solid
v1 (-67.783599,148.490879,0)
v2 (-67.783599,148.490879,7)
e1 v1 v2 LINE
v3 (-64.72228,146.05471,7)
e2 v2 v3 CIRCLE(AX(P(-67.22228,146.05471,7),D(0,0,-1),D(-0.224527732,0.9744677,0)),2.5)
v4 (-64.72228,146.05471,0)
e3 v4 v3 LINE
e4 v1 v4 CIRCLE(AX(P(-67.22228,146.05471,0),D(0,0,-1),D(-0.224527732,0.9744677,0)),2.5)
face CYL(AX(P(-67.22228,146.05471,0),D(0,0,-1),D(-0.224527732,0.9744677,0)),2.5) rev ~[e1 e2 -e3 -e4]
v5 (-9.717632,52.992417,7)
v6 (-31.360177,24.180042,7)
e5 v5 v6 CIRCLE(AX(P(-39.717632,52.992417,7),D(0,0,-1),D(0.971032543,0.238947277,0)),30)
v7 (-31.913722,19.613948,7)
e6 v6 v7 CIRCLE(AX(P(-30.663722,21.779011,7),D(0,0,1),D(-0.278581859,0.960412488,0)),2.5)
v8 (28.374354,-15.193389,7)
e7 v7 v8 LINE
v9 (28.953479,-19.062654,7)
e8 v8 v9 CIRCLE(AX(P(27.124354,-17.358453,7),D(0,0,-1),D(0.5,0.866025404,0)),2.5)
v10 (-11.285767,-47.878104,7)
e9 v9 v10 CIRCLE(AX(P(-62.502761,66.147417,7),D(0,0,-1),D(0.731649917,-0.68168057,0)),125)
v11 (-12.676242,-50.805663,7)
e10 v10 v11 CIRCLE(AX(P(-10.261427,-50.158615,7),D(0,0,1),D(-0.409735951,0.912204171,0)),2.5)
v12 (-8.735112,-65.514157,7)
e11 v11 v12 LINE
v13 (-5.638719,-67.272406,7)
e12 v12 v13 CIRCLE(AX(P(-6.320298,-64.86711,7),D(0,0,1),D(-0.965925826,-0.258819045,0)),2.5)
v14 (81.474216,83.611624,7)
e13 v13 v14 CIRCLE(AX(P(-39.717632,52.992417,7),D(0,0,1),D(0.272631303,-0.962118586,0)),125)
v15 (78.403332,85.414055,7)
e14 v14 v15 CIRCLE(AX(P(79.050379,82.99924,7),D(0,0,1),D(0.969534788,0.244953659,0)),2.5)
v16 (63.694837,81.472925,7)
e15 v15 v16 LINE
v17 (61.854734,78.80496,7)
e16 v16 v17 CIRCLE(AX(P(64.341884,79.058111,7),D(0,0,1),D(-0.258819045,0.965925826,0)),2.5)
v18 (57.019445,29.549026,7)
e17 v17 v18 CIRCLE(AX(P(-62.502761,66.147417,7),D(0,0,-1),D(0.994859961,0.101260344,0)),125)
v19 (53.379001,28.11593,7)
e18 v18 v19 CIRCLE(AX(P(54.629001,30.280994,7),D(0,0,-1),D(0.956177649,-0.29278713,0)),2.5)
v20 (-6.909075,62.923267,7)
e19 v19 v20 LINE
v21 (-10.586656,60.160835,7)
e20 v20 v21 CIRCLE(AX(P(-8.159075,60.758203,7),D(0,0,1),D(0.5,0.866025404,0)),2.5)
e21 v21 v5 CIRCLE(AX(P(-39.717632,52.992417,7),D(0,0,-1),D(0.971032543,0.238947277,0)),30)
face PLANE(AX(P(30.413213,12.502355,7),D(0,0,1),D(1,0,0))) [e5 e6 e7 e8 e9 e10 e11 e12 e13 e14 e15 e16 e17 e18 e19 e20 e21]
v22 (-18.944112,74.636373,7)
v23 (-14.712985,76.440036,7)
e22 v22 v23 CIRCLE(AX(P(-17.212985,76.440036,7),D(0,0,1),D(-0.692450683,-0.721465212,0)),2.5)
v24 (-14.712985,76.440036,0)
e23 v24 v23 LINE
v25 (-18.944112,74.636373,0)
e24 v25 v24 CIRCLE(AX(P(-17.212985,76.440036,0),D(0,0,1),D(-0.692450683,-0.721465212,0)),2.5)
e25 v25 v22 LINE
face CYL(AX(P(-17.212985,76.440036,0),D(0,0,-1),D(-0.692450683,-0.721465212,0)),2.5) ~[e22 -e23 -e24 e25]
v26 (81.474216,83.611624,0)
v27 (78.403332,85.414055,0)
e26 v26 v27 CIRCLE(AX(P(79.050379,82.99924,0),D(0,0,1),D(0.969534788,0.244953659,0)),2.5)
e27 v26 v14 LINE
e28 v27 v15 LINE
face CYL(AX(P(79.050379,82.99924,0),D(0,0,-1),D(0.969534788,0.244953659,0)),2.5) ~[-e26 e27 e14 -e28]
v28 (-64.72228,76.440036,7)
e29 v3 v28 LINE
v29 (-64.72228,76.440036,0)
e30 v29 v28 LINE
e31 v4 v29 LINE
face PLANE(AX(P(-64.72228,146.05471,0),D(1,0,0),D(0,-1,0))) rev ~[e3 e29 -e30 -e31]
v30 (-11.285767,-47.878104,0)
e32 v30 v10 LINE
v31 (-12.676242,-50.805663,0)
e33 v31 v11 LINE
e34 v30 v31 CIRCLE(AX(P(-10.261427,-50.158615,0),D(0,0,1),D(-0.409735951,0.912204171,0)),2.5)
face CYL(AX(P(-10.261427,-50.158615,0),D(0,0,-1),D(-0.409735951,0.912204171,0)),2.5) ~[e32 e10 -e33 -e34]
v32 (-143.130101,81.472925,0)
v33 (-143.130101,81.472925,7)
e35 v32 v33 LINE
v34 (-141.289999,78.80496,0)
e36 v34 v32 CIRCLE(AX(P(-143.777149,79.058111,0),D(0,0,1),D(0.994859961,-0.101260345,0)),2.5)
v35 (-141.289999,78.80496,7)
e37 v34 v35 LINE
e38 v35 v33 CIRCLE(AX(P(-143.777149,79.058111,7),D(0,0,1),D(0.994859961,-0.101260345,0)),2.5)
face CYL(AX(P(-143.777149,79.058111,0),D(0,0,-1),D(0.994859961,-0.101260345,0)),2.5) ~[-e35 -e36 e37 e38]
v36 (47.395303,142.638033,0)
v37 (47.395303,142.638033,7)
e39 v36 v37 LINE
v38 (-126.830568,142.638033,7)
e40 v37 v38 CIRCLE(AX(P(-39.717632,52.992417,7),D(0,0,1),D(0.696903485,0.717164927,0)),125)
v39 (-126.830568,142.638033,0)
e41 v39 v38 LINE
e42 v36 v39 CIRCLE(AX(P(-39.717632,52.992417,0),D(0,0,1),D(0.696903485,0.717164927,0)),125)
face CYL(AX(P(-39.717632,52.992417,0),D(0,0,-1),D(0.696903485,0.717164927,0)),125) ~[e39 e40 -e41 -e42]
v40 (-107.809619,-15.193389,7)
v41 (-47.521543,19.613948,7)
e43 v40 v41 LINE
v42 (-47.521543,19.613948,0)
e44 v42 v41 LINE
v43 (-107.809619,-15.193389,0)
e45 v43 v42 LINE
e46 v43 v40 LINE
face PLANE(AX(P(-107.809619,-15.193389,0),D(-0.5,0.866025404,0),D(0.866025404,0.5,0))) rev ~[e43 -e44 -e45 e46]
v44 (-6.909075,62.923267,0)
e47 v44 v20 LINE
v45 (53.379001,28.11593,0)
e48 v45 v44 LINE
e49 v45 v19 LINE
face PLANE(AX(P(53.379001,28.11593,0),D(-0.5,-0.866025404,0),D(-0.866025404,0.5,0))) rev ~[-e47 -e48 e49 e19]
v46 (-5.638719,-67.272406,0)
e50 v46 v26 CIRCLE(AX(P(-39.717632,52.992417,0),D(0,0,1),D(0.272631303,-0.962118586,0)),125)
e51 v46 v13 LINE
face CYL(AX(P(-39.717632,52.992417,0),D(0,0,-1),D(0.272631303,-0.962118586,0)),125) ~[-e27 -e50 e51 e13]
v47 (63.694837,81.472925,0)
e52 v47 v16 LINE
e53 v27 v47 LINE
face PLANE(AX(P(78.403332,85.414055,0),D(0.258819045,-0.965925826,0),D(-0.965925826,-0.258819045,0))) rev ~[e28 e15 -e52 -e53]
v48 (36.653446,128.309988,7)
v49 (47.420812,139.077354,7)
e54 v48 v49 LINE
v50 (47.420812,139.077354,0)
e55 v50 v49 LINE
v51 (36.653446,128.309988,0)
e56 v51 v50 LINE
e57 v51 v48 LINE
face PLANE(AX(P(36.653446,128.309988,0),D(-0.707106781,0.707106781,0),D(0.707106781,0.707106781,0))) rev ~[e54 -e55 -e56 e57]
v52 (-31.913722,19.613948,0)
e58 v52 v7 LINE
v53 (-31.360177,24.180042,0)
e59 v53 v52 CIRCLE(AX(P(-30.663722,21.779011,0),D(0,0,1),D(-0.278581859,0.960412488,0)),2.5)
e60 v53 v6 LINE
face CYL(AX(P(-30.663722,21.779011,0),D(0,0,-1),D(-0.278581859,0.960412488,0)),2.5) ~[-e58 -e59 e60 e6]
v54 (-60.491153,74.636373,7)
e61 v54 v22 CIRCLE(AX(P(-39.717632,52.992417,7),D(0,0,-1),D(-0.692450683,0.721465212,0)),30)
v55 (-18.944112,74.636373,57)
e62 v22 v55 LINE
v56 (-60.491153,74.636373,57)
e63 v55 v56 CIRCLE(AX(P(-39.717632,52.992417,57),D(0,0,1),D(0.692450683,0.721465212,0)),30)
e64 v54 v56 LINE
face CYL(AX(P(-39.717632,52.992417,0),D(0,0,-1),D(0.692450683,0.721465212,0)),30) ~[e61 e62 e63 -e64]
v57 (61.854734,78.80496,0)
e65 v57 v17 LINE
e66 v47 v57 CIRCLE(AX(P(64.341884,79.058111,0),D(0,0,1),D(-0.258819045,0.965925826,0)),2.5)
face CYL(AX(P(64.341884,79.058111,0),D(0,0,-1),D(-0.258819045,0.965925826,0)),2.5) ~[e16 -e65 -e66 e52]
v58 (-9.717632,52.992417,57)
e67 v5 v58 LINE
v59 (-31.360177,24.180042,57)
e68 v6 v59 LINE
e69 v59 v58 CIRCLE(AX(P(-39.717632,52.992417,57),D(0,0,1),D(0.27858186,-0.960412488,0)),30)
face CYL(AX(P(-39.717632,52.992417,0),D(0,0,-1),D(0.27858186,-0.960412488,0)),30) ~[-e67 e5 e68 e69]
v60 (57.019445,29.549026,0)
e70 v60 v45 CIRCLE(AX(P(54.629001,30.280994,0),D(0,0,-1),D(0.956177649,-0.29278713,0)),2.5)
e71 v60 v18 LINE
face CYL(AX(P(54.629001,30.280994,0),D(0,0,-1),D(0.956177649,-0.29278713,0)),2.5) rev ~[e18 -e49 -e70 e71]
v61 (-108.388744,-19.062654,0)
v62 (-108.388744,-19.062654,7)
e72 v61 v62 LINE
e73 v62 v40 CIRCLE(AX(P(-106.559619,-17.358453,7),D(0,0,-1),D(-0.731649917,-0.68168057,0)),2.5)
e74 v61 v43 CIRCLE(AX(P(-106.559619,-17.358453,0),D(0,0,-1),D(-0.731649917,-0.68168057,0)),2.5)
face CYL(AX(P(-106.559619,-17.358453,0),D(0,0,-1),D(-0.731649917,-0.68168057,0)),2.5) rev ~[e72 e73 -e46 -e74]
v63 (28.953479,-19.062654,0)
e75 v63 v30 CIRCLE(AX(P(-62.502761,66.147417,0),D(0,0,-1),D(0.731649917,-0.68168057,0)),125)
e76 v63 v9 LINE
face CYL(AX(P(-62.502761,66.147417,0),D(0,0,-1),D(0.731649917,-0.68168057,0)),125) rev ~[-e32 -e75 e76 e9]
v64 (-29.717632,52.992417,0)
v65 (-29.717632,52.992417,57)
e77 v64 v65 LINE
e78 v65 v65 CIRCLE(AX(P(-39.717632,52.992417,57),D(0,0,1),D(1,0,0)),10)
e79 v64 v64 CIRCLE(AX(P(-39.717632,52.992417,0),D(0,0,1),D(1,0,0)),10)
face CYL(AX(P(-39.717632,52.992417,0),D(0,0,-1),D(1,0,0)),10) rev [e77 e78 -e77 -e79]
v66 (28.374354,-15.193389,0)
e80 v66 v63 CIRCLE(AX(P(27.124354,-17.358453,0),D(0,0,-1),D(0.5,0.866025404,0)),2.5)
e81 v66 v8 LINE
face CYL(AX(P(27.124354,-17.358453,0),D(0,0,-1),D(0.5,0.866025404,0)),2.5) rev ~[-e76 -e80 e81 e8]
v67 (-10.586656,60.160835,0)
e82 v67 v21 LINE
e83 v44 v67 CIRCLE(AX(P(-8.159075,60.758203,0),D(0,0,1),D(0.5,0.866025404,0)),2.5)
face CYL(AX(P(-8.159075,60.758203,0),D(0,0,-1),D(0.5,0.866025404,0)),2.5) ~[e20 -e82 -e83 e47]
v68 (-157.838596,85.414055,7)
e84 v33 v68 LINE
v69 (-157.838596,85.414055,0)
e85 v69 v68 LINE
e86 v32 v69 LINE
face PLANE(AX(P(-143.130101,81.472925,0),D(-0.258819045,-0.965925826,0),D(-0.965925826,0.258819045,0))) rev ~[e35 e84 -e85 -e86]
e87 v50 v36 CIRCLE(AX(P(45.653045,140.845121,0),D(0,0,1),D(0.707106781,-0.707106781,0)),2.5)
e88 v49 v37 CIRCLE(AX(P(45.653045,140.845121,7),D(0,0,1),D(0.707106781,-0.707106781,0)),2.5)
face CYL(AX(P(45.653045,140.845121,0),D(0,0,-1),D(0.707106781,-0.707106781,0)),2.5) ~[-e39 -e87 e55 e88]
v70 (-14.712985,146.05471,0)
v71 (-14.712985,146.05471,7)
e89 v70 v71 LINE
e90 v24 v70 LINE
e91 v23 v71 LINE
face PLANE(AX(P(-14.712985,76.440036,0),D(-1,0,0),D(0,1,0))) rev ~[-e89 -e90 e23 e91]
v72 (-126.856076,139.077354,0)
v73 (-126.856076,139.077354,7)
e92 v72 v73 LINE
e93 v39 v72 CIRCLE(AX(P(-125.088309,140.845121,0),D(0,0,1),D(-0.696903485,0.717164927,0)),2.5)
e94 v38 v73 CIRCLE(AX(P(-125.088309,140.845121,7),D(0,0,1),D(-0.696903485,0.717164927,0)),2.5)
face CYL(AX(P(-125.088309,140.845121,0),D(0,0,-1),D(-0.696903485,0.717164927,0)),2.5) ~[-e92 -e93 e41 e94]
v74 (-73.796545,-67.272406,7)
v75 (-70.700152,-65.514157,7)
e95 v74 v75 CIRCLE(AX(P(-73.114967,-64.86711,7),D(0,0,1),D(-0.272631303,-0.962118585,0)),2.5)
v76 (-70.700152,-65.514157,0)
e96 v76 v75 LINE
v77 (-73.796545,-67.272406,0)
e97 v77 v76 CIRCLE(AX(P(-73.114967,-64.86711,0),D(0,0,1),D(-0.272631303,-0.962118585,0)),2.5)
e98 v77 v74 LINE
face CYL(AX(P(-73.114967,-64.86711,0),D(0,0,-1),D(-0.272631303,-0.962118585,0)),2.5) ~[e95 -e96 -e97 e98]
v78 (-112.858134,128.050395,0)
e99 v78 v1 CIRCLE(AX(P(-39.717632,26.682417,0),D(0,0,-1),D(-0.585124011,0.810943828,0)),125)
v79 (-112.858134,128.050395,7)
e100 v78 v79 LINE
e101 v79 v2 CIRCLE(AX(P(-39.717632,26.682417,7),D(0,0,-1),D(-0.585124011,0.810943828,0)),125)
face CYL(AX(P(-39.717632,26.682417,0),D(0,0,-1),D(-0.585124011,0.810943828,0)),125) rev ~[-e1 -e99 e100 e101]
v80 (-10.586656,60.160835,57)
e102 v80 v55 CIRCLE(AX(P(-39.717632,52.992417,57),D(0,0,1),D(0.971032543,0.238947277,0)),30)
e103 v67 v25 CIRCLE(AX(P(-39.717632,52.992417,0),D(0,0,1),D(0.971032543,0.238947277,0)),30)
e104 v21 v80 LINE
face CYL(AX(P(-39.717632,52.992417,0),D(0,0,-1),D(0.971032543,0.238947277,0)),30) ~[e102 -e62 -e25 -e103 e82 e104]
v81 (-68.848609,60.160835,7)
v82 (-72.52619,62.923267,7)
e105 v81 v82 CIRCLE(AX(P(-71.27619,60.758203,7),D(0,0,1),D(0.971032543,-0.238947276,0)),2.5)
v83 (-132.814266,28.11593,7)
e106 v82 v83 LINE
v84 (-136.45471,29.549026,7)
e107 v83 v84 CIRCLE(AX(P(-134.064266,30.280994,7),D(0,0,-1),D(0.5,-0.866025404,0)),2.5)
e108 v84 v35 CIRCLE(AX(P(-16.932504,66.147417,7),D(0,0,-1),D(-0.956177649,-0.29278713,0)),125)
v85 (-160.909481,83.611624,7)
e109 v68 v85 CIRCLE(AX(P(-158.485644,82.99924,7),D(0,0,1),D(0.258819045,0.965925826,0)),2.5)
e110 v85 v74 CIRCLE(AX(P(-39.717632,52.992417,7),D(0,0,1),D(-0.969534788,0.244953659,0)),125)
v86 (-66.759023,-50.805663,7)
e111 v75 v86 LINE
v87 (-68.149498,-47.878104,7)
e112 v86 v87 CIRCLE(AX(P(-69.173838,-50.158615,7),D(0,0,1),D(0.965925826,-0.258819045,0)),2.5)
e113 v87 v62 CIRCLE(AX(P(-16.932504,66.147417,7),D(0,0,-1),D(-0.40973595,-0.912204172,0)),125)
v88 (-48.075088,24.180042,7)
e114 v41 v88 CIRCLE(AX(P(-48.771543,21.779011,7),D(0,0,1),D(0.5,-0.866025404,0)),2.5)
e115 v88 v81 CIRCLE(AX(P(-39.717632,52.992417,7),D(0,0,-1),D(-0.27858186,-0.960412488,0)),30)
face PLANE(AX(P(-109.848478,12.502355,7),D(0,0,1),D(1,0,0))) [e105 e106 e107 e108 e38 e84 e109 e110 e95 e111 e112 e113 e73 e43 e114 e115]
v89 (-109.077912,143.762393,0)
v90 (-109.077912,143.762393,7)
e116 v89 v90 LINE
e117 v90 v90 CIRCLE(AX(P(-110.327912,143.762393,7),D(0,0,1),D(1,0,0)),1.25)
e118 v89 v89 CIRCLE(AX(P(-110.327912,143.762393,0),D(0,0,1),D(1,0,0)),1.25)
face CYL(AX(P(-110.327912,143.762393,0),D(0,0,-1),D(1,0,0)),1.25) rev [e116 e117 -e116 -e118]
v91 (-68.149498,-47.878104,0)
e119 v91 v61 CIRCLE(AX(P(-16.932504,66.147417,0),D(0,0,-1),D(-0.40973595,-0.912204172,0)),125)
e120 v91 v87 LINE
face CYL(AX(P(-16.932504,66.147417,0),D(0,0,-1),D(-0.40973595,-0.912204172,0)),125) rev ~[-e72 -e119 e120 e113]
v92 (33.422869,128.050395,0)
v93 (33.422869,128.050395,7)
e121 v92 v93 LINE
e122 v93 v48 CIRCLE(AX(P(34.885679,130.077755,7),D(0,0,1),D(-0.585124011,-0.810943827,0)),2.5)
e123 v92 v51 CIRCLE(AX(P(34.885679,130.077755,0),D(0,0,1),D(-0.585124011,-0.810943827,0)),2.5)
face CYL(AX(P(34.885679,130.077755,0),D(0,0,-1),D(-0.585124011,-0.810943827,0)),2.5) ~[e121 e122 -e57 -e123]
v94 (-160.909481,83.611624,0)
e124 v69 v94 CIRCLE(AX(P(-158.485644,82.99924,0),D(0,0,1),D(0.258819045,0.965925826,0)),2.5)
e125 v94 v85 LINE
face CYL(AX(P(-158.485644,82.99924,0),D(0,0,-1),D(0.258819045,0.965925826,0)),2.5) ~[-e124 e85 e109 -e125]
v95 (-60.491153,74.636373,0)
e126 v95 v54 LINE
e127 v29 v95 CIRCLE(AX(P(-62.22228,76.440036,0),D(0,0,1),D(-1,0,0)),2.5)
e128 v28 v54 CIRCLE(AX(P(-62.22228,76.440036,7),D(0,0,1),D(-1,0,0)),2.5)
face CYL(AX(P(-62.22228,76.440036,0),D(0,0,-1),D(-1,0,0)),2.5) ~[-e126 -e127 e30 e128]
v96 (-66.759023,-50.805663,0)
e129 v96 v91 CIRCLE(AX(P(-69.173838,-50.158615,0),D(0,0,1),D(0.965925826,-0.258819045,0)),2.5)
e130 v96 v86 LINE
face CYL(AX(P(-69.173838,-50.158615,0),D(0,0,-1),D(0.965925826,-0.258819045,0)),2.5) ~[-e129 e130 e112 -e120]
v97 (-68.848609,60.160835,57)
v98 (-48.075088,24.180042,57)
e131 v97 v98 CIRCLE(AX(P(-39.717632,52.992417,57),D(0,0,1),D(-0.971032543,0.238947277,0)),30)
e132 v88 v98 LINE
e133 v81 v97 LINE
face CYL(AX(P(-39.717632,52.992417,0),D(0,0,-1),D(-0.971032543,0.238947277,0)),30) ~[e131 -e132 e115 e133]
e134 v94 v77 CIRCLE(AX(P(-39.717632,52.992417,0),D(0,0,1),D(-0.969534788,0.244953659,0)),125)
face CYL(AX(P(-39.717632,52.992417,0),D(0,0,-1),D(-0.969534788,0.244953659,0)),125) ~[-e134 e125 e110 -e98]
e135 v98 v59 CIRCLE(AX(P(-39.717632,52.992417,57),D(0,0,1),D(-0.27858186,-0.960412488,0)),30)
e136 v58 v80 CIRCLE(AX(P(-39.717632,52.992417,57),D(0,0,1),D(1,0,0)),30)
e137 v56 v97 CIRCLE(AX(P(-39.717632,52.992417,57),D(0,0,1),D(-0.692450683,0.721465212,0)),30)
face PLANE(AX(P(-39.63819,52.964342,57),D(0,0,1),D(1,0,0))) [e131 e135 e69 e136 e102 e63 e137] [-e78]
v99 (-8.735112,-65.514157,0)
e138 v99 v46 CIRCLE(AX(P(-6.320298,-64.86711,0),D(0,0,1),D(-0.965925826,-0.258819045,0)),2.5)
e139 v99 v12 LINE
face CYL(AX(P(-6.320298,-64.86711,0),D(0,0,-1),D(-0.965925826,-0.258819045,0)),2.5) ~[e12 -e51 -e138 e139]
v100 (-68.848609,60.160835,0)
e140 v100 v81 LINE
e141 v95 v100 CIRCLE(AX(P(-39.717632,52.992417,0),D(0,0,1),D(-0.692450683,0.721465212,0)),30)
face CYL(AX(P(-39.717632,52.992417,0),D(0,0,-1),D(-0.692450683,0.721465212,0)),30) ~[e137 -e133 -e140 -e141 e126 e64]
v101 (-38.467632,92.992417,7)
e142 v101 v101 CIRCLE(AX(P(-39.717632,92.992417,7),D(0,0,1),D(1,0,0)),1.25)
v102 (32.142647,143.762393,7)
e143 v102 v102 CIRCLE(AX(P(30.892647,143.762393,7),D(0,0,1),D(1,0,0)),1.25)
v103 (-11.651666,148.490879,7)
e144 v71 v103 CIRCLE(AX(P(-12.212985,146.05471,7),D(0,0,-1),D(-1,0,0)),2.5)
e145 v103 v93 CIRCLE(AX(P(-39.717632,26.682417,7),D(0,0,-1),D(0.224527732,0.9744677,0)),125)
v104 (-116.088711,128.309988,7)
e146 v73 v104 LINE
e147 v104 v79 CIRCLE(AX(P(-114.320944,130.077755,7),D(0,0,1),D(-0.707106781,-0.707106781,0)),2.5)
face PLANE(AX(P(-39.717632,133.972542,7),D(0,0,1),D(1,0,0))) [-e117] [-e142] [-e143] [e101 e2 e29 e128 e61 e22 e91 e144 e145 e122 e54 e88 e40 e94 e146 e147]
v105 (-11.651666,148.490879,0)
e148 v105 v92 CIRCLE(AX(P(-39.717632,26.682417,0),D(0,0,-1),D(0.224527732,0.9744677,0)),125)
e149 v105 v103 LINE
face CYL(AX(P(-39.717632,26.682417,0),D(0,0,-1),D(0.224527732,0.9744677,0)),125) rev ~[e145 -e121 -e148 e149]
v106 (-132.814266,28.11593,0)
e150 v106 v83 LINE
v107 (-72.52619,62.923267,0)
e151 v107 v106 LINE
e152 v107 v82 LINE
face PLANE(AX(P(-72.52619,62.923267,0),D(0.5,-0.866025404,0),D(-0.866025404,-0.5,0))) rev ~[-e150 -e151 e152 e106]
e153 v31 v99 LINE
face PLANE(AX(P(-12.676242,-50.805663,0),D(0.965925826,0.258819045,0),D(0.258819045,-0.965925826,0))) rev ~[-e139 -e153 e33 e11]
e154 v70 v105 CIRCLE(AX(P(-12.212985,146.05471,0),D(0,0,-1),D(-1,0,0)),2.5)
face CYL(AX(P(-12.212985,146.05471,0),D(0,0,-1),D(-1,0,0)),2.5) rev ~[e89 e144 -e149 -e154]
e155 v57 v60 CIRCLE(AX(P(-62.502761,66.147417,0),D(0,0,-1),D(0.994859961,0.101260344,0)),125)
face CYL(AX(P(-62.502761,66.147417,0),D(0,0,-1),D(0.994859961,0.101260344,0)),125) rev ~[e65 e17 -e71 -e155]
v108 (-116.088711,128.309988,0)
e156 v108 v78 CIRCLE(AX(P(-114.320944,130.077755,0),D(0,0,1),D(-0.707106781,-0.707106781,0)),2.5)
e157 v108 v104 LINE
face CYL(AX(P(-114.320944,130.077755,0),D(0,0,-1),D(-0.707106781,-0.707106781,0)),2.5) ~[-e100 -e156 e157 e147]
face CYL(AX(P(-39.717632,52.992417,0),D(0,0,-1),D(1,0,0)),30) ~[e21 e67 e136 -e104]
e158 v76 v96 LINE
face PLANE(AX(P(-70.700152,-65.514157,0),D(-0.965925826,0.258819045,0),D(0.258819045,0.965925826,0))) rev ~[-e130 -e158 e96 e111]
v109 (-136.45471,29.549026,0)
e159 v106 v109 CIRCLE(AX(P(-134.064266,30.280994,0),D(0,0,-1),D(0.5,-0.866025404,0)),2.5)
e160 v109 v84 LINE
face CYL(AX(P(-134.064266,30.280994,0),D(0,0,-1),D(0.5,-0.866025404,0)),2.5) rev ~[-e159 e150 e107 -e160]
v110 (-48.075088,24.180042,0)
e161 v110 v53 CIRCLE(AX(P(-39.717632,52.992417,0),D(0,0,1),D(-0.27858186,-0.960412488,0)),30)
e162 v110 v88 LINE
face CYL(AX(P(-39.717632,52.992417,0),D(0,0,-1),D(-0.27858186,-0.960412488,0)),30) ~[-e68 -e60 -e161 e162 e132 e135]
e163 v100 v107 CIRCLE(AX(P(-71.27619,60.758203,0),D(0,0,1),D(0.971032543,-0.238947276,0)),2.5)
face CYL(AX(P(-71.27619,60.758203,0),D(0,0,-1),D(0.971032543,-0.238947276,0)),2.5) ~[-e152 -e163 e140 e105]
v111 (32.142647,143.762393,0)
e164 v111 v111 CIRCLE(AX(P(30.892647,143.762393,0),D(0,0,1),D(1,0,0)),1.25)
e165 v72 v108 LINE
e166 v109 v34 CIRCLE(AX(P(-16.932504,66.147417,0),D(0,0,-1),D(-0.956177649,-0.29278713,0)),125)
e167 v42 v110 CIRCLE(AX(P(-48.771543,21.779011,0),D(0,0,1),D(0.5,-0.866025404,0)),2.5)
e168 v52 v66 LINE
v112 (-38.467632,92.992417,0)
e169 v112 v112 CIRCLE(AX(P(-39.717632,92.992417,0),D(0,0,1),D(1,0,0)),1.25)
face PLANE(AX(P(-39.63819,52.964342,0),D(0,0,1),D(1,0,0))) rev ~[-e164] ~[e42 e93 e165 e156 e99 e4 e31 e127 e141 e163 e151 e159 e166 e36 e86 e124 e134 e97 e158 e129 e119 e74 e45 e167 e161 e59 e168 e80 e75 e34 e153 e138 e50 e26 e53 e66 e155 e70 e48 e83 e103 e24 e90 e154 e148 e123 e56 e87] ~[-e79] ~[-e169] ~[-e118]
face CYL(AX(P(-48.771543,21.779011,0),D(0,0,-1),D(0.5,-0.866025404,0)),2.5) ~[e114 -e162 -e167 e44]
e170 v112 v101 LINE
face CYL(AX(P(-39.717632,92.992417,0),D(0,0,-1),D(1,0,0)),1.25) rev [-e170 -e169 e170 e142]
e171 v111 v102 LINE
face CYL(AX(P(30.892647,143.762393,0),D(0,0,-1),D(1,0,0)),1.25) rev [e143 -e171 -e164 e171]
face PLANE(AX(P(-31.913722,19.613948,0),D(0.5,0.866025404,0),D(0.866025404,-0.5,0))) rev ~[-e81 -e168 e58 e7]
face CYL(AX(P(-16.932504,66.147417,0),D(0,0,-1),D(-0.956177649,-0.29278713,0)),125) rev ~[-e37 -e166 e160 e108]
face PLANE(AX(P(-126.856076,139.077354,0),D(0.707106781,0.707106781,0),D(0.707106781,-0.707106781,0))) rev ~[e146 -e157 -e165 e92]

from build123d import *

# Parameters (mm, degrees)
SKETCH1_R             = 1.25
BOSS_EXTRUDE1_DEPTH   = 7
BOSS_EXTRUDE2_DEPTH   = 7
BOSS_EXTRUDE2_2_DEPTH = 7
SKETCH1_7_R           = 10
BOSS_EXTRUDE3_DEPTH   = 57


with BuildPart() as part:
    # Sketch1 → Boss-Extrude1 (new body)
    with BuildSketch(Plane.XY):
        with BuildLine():
            ThreePointArc((-60.491152811, 74.636373352), (-39.71763232, 82.992417004), (-18.944111829, 74.636373352))
            ThreePointArc((-18.944111829, 74.636373352), (-16.23263232, 74.140273701), (-14.712985122, 76.440036381))
            Line((-14.712985122, 76.440036381), (-14.712985122, 146.054710198))
            ThreePointArc((-14.712985122, 146.054710198), (-13.769696668, 148.010892491), (-11.651665791, 148.490879447))
            ThreePointArc((-11.651665791, 148.490879447), (11.907367753, 140.523795103), (33.422869053, 128.050395473))
            ThreePointArc((33.422869053, 128.050395473), (35.085920842, 127.585787298), (36.653446033, 128.309988089))
            Line((36.653446033, 128.309988089), (47.420811552, 139.077353608))
            ThreePointArc((47.420811552, 139.077353608), (48.15298045, 140.863029774), (47.395303312, 142.638032879))
            ThreePointArc((47.395303312, 142.638032879), (-39.71763232, 177.992417004), (-126.830567952, 142.638032879))
            ThreePointArc((-126.830567952, 142.638032879), (-127.588245091, 140.863029774), (-126.856076193, 139.077353608))
            Line((-126.856076193, 139.077353608), (-116.088710674, 128.309988089))
            ThreePointArc((-116.088710674, 128.309988089), (-114.521185483, 127.585787298), (-112.858133693, 128.050395473))
            ThreePointArc((-112.858133693, 128.050395473), (-91.342632394, 140.523795103), (-67.783598849, 148.490879447))
            ThreePointArc((-67.783598849, 148.490879447), (-65.665567973, 148.010892491), (-64.722279519, 146.054710198))
            Line((-64.722279519, 146.054710198), (-64.722279519, 76.440036381))
            ThreePointArc((-64.722279519, 76.440036381), (-63.20263232, 74.140273701), (-60.491152811, 74.636373352))
        make_face()
        with Locations((-39.71763232, 92.992417004)):
            Circle(SKETCH1_R, mode=Mode.SUBTRACT)
        with Locations((-110.327911654, 143.762392505)):
            Circle(SKETCH1_R, mode=Mode.SUBTRACT)
        with Locations((30.892647013, 143.762392505)):
            Circle(SKETCH1_R, mode=Mode.SUBTRACT)
    extrude(amount=BOSS_EXTRUDE1_DEPTH)



with BuildPart() as body_2:
    # Sketch1<5> → Boss-Extrude2 (new body)
    with BuildSketch(Plane.XY):
        with BuildLine():
            Line((-31.91372188, 19.613947629), (28.374354121, -15.19338928))
            ThreePointArc((28.374354121, -15.19338928), (29.596813454, -16.988392191), (28.953478913, -19.062654214))
            ThreePointArc((28.953478913, -19.062654214), (10.274264705, -35.481833579), (-11.285766896, -47.878104465))
            ThreePointArc((-11.285766896, -47.878104465), (-12.519655272, -49.086045475), (-12.676241586, -50.805662507))
            Line((-12.676241586, -50.805662507), (-8.735112274, -65.514157338))
            ThreePointArc((-8.735112274, -65.514157338), (-7.5547558, -67.041072287), (-5.638719451, -67.272406189))
            ThreePointArc((-5.638719451, -67.272406189), (68.535543153, -9.507582996), (81.474216181, 83.611624322))
            ThreePointArc((81.474216181, 83.611624322), (80.31585697, 85.155293524), (78.403331598, 85.414054741))
            Line((78.403331598, 85.414054741), (63.694836768, 81.47292543))
            ThreePointArc((63.694836768, 81.47292543), (62.28389789, 80.477509189), (61.854734477, 78.804960004))
            ThreePointArc((61.854734477, 78.804960004), (61.899264778, 53.935289488), (57.019445442, 29.549025778))
            ThreePointArc((57.019445442, 29.549025778), (55.544749107, 27.954750711), (53.37900132, 28.115930093))
            Line((53.37900132, 28.115930093), (-6.909074682, 62.923267002))
            ThreePointArc((-6.909074682, 62.923267002), (-9.660551185, 62.757095263), (-10.586656039, 60.160835301))
            ThreePointArc((-10.586656039, 60.160835301), (-13.736870207, 37.992417004), (-31.360176529, 24.180042358))
            ThreePointArc((-31.360176529, 24.180042358), (-33.145551185, 22.079882047), (-31.91372188, 19.613947629))
        make_face()
    extrude(amount=BOSS_EXTRUDE2_DEPTH)


with BuildPart() as body_3:
    # Sketch1<5> → Boss-Extrude2 2 (new body)
    with BuildSketch(Plane.XY):
        with BuildLine():
            ThreePointArc((-47.52154276, 19.613947629), (-46.289713456, 22.079882047), (-48.075088111, 24.180042358))
            ThreePointArc((-48.075088111, 24.180042358), (-65.698394434, 37.992417004), (-68.848608602, 60.160835301))
            ThreePointArc((-68.848608602, 60.160835301), (-69.774713456, 62.757095263), (-72.526189959, 62.923267002))
            Line((-72.526189959, 62.923267002), (-132.81426596, 28.115930093))
            ThreePointArc((-132.81426596, 28.115930093), (-134.980013747, 27.954750711), (-136.454710083, 29.549025778))
            ThreePointArc((-136.454710083, 29.549025778), (-141.334529419, 53.935289488), (-141.289999118, 78.804960004))
            ThreePointArc((-141.289999118, 78.804960004), (-141.71916253, 80.477509189), (-143.130101408, 81.47292543))
            Line((-143.130101408, 81.47292543), (-157.838596239, 85.414054741))
            ThreePointArc((-157.838596239, 85.414054741), (-159.751121611, 85.155293524), (-160.909480822, 83.611624322))
            ThreePointArc((-160.909480822, 83.611624322), (-147.970807793, -9.507582996), (-73.79654519, -67.272406189))
            ThreePointArc((-73.79654519, -67.272406189), (-71.88050884, -67.041072287), (-70.700152367, -65.514157338))
            Line((-70.700152367, -65.514157338), (-66.759023055, -50.805662507))
            ThreePointArc((-66.759023055, -50.805662507), (-66.915609368, -49.086045475), (-68.149497745, -47.878104465))
            ThreePointArc((-68.149497745, -47.878104465), (-89.709529345, -35.481833579), (-108.388743554, -19.062654214))
            ThreePointArc((-108.388743554, -19.062654214), (-109.032078095, -16.988392191), (-107.809618762, -15.19338928))
            Line((-107.809618762, -15.19338928), (-47.52154276, 19.613947629))
        make_face()
    extrude(amount=BOSS_EXTRUDE2_2_DEPTH)


with BuildPart() as part_1:
    add(part.part)

    add(body_2.part)  # Boss-Extrude3 merges body 2

    add(body_3.part)  # Boss-Extrude3 merges body 3
    # Sketch1<7> → Boss-Extrude3 (add)
    with BuildSketch(Plane.XY):
        with BuildLine():
            ThreePointArc((-48.075088111, 24.180042358), (-39.71763232, 22.992417004), (-31.360176529, 24.180042358))
            ThreePointArc((-31.360176529, 24.180042358), (-15.73093107, 34.97469897), (-9.71763232, 52.992417004))
            ThreePointArc((-9.71763232, 52.992417004), (-9.935680668, 56.602867914), (-10.586656039, 60.160835301))
            ThreePointArc((-10.586656039, 60.160835301), (-13.736870207, 67.992417004), (-18.944111829, 74.636373352))
            ThreePointArc((-18.944111829, 74.636373352), (-39.71763232, 82.992417004), (-60.491152811, 74.636373352))
            ThreePointArc((-60.491152811, 74.636373352), (-65.698394434, 67.992417004), (-68.848608602, 60.160835301))
            ThreePointArc((-68.848608602, 60.160835301), (-65.698394434, 37.992417004), (-48.075088111, 24.180042358))
        make_face()
        with Locations((-39.71763232, 52.992417004)):
            Circle(SKETCH1_7_R, mode=Mode.SUBTRACT)
    extrude(amount=BOSS_EXTRUDE3_DEPTH)


solid = part_1.part
